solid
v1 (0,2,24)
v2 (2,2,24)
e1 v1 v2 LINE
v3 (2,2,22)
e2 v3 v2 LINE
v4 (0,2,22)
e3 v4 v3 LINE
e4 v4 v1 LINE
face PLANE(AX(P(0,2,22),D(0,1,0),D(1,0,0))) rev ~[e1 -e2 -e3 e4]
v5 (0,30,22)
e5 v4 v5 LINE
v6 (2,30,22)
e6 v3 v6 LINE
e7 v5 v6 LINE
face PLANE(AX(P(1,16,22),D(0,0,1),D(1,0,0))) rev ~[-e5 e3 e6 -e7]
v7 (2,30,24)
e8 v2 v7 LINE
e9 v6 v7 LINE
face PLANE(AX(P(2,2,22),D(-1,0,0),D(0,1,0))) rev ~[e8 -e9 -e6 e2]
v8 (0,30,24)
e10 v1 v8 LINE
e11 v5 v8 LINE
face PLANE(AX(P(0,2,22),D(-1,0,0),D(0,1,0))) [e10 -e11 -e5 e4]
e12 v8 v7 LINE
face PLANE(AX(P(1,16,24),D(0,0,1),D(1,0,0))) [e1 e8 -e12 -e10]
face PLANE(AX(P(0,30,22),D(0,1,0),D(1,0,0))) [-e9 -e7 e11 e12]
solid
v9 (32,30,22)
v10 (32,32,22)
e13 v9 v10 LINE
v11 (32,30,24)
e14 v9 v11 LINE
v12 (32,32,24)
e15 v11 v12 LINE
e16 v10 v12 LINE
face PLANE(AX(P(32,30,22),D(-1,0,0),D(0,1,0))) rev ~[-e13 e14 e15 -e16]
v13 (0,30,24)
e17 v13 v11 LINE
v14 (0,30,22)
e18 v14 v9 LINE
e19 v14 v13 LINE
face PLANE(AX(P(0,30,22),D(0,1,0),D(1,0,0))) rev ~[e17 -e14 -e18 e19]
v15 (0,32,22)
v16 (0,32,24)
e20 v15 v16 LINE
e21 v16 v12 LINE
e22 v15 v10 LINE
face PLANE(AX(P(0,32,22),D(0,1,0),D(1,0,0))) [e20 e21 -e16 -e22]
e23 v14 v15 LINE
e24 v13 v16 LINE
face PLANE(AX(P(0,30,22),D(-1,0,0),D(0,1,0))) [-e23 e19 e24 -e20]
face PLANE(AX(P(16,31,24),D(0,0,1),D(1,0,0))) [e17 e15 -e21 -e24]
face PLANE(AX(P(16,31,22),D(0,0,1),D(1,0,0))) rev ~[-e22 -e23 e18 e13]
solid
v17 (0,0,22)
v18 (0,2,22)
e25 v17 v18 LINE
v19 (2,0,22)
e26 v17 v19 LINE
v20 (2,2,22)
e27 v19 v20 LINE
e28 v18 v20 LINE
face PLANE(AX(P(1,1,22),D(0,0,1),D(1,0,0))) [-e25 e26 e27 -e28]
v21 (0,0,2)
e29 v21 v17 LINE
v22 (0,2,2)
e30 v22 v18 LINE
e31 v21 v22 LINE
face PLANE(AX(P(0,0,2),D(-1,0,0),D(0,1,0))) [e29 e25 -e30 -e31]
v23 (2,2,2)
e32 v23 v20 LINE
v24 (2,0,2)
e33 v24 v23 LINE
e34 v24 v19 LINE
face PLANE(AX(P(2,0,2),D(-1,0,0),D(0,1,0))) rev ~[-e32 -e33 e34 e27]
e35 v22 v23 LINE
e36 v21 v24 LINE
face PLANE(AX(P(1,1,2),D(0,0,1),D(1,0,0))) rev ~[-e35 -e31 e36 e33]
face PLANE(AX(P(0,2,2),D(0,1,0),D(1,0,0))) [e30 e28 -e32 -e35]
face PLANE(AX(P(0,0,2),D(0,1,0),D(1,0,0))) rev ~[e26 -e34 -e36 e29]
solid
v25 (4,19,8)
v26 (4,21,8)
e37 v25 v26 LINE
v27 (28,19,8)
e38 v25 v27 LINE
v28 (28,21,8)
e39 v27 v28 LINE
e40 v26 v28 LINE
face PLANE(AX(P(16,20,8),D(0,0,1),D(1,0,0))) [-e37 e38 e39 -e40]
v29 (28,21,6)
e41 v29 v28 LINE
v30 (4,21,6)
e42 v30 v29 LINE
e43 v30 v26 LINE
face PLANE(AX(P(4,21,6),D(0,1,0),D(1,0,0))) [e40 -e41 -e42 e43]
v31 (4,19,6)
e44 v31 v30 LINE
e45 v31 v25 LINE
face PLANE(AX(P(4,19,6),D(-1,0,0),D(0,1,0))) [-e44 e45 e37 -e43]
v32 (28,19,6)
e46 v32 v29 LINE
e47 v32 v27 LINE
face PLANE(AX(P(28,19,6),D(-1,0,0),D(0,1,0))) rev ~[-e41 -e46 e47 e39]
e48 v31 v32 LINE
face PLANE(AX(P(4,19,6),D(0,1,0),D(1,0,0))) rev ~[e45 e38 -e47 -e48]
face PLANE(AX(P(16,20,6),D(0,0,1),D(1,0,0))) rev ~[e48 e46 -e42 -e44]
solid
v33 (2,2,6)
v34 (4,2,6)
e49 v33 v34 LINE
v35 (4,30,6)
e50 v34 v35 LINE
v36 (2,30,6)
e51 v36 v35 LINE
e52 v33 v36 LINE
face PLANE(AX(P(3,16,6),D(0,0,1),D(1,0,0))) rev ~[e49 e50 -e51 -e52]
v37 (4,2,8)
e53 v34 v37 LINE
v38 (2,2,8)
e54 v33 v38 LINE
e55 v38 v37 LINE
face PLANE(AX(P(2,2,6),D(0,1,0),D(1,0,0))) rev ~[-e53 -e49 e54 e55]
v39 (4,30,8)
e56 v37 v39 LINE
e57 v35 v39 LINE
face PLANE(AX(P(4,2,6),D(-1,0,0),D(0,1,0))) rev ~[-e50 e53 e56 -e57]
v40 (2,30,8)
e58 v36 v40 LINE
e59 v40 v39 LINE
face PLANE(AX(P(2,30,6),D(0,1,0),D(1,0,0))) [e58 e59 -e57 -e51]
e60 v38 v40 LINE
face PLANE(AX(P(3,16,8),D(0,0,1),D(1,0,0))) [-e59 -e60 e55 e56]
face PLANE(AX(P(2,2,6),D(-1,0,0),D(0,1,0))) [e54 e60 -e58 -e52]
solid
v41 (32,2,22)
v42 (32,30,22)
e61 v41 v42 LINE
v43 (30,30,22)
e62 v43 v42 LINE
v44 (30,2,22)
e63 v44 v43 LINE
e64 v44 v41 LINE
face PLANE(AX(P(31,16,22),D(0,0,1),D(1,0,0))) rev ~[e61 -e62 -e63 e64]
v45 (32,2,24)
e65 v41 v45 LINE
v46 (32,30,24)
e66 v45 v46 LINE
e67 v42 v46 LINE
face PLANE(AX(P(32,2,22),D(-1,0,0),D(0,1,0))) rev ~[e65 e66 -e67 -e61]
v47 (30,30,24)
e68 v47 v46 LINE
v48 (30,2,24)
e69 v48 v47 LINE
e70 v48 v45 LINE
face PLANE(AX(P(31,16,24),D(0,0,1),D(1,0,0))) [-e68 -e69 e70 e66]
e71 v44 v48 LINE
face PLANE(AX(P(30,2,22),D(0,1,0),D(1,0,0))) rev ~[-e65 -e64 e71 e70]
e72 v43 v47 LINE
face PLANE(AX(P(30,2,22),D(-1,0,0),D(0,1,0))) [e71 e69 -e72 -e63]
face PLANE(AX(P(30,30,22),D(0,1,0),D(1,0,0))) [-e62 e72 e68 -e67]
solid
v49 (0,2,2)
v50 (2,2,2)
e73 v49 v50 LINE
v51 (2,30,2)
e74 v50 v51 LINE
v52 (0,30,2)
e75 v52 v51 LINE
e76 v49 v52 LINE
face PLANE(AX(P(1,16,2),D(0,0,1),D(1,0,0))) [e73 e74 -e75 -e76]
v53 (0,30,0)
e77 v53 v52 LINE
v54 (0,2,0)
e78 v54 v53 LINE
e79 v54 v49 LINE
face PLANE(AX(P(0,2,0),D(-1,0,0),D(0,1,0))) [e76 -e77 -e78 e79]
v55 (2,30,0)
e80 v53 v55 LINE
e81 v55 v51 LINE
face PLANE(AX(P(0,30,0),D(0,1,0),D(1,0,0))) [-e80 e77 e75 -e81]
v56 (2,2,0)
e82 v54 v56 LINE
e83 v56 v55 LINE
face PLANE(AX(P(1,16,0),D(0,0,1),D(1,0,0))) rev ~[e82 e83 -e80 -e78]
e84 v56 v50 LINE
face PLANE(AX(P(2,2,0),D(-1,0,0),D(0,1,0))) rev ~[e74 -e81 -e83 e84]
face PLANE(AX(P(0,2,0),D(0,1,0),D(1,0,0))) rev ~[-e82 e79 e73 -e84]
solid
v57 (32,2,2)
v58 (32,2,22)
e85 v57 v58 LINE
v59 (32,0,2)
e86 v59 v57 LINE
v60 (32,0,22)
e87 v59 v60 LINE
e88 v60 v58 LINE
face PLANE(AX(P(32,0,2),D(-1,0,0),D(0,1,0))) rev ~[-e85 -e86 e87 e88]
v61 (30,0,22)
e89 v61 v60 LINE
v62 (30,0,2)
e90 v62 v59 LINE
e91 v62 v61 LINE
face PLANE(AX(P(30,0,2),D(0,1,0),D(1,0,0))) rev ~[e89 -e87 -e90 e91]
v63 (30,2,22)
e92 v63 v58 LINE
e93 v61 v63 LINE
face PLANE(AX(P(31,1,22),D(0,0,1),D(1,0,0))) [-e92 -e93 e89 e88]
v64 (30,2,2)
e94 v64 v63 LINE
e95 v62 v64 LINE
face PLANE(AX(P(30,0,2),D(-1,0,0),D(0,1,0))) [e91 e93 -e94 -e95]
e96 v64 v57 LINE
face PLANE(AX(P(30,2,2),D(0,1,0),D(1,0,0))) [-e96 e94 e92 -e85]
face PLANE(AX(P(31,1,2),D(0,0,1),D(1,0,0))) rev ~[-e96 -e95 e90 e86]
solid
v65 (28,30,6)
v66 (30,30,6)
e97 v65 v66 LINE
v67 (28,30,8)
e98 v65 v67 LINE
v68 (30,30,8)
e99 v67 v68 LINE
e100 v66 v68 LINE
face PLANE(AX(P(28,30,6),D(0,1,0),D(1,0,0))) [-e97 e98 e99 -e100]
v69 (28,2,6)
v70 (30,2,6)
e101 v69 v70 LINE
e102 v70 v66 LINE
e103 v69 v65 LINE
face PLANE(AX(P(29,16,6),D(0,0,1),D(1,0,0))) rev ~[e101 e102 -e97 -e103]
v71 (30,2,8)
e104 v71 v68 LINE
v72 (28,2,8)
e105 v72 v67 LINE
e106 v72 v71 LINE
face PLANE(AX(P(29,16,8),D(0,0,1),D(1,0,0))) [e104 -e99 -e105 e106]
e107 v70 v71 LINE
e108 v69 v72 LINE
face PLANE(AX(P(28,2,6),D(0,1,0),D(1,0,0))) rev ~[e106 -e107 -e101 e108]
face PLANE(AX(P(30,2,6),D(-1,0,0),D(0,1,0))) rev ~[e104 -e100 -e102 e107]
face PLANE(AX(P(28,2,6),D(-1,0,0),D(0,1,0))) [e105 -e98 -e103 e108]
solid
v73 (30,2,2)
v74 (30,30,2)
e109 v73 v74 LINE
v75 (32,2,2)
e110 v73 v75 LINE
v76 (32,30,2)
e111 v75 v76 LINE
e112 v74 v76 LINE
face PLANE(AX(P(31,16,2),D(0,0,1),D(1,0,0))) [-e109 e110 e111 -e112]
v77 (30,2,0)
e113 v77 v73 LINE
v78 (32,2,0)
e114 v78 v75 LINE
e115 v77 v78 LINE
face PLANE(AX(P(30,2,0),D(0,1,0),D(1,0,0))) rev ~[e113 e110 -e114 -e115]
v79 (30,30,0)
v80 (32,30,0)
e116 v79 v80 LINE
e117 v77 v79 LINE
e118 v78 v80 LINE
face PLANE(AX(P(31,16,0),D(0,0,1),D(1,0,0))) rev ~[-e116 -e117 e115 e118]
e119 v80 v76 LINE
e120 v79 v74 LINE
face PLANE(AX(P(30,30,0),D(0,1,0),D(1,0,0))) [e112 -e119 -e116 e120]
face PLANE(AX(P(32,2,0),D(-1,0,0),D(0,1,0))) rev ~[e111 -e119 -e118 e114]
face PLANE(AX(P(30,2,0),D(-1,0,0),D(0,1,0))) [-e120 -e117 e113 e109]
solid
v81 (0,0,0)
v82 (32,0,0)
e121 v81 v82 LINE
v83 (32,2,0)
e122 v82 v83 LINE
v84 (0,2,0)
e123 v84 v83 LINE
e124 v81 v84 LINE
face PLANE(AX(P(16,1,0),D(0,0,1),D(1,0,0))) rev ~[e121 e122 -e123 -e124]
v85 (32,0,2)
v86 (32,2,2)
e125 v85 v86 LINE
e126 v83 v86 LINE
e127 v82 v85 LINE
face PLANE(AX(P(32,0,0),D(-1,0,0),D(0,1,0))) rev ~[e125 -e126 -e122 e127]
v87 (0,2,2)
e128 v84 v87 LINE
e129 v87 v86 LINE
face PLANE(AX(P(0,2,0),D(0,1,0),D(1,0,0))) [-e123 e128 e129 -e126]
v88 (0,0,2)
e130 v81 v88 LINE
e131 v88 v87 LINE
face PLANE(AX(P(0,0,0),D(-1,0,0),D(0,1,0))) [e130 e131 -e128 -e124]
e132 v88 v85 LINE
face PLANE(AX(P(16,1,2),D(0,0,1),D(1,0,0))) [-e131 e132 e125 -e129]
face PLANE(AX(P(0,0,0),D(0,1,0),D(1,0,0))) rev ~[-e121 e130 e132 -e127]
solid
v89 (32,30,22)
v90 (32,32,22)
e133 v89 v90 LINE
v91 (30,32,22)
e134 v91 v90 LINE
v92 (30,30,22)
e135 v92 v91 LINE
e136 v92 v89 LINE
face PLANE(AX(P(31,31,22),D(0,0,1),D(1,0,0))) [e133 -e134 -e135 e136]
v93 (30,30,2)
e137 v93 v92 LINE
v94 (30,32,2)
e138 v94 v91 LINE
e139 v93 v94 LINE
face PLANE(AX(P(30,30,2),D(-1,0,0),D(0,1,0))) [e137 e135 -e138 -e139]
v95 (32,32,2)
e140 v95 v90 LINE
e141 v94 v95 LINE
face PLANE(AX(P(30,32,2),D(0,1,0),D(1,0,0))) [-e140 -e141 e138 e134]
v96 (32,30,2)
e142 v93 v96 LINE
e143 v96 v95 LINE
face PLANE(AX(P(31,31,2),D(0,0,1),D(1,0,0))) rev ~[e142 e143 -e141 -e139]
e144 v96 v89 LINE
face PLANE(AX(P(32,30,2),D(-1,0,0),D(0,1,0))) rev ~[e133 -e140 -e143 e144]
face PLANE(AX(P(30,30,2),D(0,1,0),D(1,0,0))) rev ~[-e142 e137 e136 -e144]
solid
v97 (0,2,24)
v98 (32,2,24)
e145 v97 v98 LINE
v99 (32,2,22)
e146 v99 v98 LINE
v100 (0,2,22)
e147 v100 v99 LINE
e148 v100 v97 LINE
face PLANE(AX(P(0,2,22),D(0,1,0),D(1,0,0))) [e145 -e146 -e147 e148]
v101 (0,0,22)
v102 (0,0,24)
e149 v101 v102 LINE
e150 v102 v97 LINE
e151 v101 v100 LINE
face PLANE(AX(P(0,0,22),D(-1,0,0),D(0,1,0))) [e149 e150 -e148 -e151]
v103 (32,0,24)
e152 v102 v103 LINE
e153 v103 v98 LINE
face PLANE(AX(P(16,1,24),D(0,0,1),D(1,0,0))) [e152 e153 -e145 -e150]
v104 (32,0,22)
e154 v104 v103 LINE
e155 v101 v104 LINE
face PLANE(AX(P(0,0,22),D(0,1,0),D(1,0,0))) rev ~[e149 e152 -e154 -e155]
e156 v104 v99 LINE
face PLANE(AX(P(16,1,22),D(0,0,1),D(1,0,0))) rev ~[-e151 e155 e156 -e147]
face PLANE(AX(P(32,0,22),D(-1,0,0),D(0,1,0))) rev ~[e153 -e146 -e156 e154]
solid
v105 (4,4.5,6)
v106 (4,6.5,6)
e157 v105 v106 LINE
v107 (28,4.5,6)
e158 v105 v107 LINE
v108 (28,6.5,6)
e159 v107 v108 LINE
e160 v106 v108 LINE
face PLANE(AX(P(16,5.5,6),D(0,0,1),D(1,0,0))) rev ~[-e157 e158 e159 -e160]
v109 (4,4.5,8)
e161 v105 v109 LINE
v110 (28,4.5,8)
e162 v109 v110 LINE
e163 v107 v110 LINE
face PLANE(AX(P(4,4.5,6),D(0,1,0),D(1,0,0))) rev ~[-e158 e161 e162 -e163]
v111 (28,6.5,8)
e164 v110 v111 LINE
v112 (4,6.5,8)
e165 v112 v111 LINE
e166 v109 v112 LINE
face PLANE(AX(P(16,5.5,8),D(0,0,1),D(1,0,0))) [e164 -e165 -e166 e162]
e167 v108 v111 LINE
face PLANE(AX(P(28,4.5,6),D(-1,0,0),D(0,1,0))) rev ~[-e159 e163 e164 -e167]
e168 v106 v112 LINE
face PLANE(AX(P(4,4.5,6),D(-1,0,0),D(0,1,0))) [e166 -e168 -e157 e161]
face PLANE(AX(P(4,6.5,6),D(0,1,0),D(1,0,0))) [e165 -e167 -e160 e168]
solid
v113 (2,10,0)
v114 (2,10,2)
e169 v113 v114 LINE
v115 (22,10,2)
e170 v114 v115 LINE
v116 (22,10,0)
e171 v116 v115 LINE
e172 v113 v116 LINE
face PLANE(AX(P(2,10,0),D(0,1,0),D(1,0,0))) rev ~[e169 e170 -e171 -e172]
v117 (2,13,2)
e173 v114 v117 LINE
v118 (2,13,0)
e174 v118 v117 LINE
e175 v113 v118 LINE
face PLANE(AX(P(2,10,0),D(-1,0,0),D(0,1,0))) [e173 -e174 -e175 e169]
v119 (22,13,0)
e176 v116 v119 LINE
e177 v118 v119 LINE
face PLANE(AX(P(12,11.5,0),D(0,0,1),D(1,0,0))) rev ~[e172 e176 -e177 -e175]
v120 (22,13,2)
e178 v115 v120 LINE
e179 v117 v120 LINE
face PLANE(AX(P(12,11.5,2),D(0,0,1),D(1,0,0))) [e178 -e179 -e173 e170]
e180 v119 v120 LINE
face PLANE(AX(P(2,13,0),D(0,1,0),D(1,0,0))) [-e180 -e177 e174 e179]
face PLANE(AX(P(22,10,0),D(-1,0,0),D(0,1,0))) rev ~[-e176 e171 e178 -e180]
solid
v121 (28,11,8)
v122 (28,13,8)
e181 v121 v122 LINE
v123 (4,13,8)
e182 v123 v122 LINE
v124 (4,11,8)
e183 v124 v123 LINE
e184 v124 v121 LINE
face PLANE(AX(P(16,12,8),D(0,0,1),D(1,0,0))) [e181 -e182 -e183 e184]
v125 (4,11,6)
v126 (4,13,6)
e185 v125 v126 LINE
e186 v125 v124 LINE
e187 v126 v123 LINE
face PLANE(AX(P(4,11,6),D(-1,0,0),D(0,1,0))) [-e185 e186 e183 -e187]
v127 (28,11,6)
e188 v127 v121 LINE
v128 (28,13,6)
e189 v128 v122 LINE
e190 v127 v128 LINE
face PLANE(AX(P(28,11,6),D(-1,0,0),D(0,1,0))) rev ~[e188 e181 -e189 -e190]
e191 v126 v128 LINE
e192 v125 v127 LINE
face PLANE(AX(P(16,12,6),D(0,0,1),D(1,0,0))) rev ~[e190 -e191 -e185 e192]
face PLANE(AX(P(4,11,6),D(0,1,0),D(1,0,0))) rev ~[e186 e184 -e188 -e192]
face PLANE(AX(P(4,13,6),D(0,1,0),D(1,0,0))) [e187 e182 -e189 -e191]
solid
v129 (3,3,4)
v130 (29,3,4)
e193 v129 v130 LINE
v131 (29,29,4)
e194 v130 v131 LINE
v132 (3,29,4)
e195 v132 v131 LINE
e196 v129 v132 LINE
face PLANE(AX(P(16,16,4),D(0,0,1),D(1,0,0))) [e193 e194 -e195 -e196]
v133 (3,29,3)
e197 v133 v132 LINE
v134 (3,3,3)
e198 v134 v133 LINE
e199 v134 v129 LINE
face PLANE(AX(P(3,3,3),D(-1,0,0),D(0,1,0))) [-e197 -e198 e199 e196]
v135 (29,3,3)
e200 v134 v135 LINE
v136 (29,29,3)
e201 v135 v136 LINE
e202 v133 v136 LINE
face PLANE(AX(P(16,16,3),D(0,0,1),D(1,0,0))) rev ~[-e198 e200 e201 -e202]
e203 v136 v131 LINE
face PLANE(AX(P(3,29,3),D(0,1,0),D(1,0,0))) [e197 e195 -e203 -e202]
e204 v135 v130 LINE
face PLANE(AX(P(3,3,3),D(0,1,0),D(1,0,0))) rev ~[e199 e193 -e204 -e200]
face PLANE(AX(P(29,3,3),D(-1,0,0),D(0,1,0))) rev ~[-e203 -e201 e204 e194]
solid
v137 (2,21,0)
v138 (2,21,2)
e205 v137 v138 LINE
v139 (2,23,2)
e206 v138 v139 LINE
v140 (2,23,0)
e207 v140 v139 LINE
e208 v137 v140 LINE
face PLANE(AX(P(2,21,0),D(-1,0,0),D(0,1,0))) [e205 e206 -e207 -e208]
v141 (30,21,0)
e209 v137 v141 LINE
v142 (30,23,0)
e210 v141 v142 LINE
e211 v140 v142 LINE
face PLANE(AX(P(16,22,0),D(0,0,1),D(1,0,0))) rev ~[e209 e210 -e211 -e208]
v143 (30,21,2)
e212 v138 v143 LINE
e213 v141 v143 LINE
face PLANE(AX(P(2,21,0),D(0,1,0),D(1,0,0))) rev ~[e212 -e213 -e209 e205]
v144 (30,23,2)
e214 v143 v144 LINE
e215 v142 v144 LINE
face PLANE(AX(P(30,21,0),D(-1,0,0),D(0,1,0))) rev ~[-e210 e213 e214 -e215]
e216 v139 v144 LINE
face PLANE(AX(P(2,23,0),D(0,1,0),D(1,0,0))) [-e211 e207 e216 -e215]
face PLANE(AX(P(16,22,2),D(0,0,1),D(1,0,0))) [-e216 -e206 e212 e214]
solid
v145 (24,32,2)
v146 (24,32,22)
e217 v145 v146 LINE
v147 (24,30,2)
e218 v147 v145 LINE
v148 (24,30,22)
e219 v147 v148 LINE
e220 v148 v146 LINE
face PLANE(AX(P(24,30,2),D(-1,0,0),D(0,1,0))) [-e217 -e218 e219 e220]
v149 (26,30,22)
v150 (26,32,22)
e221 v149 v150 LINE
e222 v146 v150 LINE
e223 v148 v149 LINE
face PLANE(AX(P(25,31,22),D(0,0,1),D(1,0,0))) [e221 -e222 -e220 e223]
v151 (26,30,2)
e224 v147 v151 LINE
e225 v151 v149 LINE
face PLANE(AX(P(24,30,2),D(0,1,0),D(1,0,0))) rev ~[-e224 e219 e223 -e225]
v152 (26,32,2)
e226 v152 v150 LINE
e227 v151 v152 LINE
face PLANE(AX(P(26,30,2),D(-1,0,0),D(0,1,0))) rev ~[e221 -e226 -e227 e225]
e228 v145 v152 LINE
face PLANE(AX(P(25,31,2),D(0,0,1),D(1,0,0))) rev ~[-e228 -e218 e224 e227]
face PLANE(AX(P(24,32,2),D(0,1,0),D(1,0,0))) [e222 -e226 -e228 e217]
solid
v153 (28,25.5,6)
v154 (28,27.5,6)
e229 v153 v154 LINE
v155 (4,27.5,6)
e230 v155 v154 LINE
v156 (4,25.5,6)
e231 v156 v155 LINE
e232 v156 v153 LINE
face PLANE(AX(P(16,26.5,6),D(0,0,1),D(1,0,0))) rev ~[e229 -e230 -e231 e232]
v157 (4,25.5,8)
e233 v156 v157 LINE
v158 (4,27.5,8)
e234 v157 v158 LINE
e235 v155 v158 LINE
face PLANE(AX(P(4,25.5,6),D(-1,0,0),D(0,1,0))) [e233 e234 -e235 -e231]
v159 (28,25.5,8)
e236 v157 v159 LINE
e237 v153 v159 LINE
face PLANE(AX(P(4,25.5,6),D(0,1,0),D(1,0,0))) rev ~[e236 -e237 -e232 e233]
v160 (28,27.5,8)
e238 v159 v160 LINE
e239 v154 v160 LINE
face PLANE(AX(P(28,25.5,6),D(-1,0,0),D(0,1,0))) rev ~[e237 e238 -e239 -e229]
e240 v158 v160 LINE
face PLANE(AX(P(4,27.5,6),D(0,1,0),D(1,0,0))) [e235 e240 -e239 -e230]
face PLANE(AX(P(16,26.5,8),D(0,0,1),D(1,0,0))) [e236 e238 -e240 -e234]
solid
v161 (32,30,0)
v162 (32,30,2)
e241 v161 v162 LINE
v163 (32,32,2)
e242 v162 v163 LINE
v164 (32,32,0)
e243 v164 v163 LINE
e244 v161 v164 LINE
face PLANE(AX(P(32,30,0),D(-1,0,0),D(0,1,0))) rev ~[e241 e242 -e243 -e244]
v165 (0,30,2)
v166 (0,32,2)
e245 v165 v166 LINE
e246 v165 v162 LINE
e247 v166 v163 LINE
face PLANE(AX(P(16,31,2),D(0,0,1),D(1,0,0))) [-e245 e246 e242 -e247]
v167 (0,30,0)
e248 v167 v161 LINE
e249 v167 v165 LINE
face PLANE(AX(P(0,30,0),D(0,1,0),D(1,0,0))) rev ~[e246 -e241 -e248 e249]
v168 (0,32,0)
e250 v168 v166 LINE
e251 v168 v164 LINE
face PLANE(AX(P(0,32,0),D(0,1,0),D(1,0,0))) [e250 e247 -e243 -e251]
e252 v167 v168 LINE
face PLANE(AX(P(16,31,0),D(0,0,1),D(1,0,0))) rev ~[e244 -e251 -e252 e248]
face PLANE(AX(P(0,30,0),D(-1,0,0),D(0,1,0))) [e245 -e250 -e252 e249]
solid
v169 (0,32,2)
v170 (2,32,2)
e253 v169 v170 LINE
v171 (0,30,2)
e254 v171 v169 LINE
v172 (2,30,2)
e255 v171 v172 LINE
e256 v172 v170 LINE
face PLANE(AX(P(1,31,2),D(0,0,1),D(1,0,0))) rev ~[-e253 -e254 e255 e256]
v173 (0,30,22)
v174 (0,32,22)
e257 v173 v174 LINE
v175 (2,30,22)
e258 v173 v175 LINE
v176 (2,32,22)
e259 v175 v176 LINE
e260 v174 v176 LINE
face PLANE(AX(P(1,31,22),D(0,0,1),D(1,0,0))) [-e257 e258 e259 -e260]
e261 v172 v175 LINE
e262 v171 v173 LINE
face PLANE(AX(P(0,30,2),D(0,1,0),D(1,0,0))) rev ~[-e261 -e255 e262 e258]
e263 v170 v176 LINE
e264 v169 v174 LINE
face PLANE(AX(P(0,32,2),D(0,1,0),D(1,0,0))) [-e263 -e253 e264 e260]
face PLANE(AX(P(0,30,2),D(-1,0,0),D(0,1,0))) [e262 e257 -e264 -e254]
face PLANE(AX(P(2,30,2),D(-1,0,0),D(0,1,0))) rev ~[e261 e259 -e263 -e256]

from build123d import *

# Parameters (mm, degrees)
BOX_W        = 32
BOX_H        = 2
BOX_DEPTH    = 2
BOX001_W     = 32
BOX001_H     = 2
BOX001_DEPTH = 2
BOX002_W     = 2
BOX002_H     = 2
BOX002_DEPTH = 20
BOX003_W     = 2
BOX003_H     = 2
BOX003_DEPTH = 20
BOX004_W     = 2
BOX004_H     = 28
BOX004_DEPTH = 2
BOX005_W     = 2
BOX005_H     = 28
BOX005_DEPTH = 2
BOX006_W     = 2
BOX006_H     = 28
BOX006_DEPTH = 2
BOX007_W     = 2
BOX007_H     = 28
BOX007_DEPTH = 2
BOX008_W     = 32
BOX008_H     = 2
BOX008_DEPTH = 2
BOX009_W     = 32
BOX009_H     = 2
BOX009_DEPTH = 2
BOX010_W     = 2
BOX010_H     = 2
BOX010_DEPTH = 20
BOX011_W     = 2
BOX011_H     = 2
BOX011_DEPTH = 20
BOX012_W     = 20
BOX012_H     = 3
BOX012_DEPTH = 2
BOX013_W     = 28
BOX013_H     = 2
BOX013_DEPTH = 2
BOX014_W     = 26
BOX014_H     = 26
BOX014_DEPTH = 1
BOX015_W     = 2
BOX015_H     = 2
BOX015_DEPTH = 20
BOX016_W     = 2
BOX016_H     = 28
BOX016_DEPTH = 2
BOX017_W     = 2
BOX017_H     = 28
BOX017_DEPTH = 2
BOX018_W     = 24
BOX018_H     = 2
BOX018_DEPTH = 2
BOX019_W     = 24
BOX019_H     = 2
BOX019_DEPTH = 2
BOX020_W     = 24
BOX020_H     = 2
BOX020_DEPTH = 2
BOX021_W     = 24
BOX021_H     = 2
BOX021_DEPTH = 2


with BuildPart() as box:
    # Box → Box (new body)
    with BuildSketch(Plane.XY):
        with Locations((16, 1)):
            Rectangle(BOX_W, BOX_H)
    extrude(amount=BOX_DEPTH)


with BuildPart() as box001:
    # Box001 → Box001 (new body)
    with BuildSketch(Plane.XY.offset(22)):
        with Locations((16, 1)):
            Rectangle(BOX001_W, BOX001_H)
    extrude(amount=BOX001_DEPTH)


with BuildPart() as box002:
    # Box002 → Box002 (new body)
    with BuildSketch(Plane.XY.offset(2)):
        with Locations((1, 1)):
            Rectangle(BOX002_W, BOX002_H)
    extrude(amount=BOX002_DEPTH)


with BuildPart() as box003:
    # Box003 → Box003 (new body)
    with BuildSketch(Plane(origin=(30, 0, 2), x_dir=(1, 0, 0), z_dir=(0, 0, 1))):
        with Locations((1, 1)):
            Rectangle(BOX003_W, BOX003_H)
    extrude(amount=BOX003_DEPTH)


with BuildPart() as box004:
    # Box004 → Box004 (new body)
    with BuildSketch(Plane(origin=(0, 2, 0), x_dir=(1, 0, 0), z_dir=(0, 0, 1))):
        with Locations((1, 14)):
            Rectangle(BOX004_W, BOX004_H)
    extrude(amount=BOX004_DEPTH)


with BuildPart() as box005:
    # Box005 → Box005 (new body)
    with BuildSketch(Plane(origin=(30, 2, 0), x_dir=(1, 0, 0), z_dir=(0, 0, 1))):
        with Locations((1, 14)):
            Rectangle(BOX005_W, BOX005_H)
    extrude(amount=BOX005_DEPTH)


with BuildPart() as box006:
    # Box006 → Box006 (new body)
    with BuildSketch(Plane(origin=(30, 2, 22), x_dir=(1, 0, 0), z_dir=(0, 0, 1))):
        with Locations((1, 14)):
            Rectangle(BOX006_W, BOX006_H)
    extrude(amount=BOX006_DEPTH)


with BuildPart() as box007:
    # Box007 → Box007 (new body)
    with BuildSketch(Plane(origin=(0, 2, 22), x_dir=(1, 0, 0), z_dir=(0, 0, 1))):
        with Locations((1, 14)):
            Rectangle(BOX007_W, BOX007_H)
    extrude(amount=BOX007_DEPTH)


with BuildPart() as box008:
    # Box008 → Box008 (new body)
    with BuildSketch(Plane(origin=(0, 30, 0), x_dir=(1, 0, 0), z_dir=(0, 0, 1))):
        with Locations((16, 1)):
            Rectangle(BOX008_W, BOX008_H)
    extrude(amount=BOX008_DEPTH)


with BuildPart() as box009:
    # Box009 → Box009 (new body)
    with BuildSketch(Plane(origin=(0, 30, 22), x_dir=(1, 0, 0), z_dir=(0, 0, 1))):
        with Locations((16, 1)):
            Rectangle(BOX009_W, BOX009_H)
    extrude(amount=BOX009_DEPTH)


with BuildPart() as box010:
    # Box010 → Box010 (new body)
    with BuildSketch(Plane(origin=(0, 30, 2), x_dir=(1, 0, 0), z_dir=(0, 0, 1))):
        with Locations((1, 1)):
            Rectangle(BOX010_W, BOX010_H)
    extrude(amount=BOX010_DEPTH)


with BuildPart() as box011:
    # Box011 → Box011 (new body)
    with BuildSketch(Plane(origin=(30, 30, 2), x_dir=(1, 0, 0), z_dir=(0, 0, 1))):
        with Locations((1, 1)):
            Rectangle(BOX011_W, BOX011_H)
    extrude(amount=BOX011_DEPTH)


with BuildPart() as box012:
    # Box012 → Box012 (new body)
    with BuildSketch(Plane(origin=(2, 10, 0), x_dir=(1, 0, 0), z_dir=(0, 0, 1))):
        with Locations((10, 1.5)):
            Rectangle(BOX012_W, BOX012_H)
    extrude(amount=BOX012_DEPTH)


with BuildPart() as box013:
    # Box013 → Box013 (new body)
    with BuildSketch(Plane(origin=(2, 21, 0), x_dir=(1, 0, 0), z_dir=(0, 0, 1))):
        with Locations((14, 1)):
            Rectangle(BOX013_W, BOX013_H)
    extrude(amount=BOX013_DEPTH)


with BuildPart() as heated_bed:
    # Box014 → Box014 (new body)
    with BuildSketch(Plane(origin=(3, 3, 3), x_dir=(1, 0, 0), z_dir=(0, 0, 1))):
        with Locations((13, 13)):
            Rectangle(BOX014_W, BOX014_H)
    extrude(amount=BOX014_DEPTH)


with BuildPart() as box015:
    # Box015 → Box015 (new body)
    with BuildSketch(Plane(origin=(24, 30, 2), x_dir=(1, 0, 0), z_dir=(0, 0, 1))):
        with Locations((1, 1)):
            Rectangle(BOX015_W, BOX015_H)
    extrude(amount=BOX015_DEPTH)


with BuildPart() as box016:
    # Box016 → Box016 (new body)
    with BuildSketch(Plane(origin=(2, 2, 6), x_dir=(1, 0, 0), z_dir=(0, 0, 1))):
        with Locations((1, 14)):
            Rectangle(BOX016_W, BOX016_H)
    extrude(amount=BOX016_DEPTH)


with BuildPart() as box017:
    # Box017 → Box017 (new body)
    with BuildSketch(Plane(origin=(28, 2, 6), x_dir=(1, 0, 0), z_dir=(0, 0, 1))):
        with Locations((1, 14)):
            Rectangle(BOX017_W, BOX017_H)
    extrude(amount=BOX017_DEPTH)


with BuildPart() as box018:
    # Box018 → Box018 (new body)
    with BuildSketch(Plane(origin=(4, 4.5, 6), x_dir=(1, 0, 0), z_dir=(0, 0, 1))):
        with Locations((12, 1)):
            Rectangle(BOX018_W, BOX018_H)
    extrude(amount=BOX018_DEPTH)


with BuildPart() as box019:
    # Box019 → Box019 (new body)
    with BuildSketch(Plane(origin=(4, 25.5, 6), x_dir=(1, 0, 0), z_dir=(0, 0, 1))):
        with Locations((12, 1)):
            Rectangle(BOX019_W, BOX019_H)
    extrude(amount=BOX019_DEPTH)


with BuildPart() as box020:
    # Box020 → Box020 (new body)
    with BuildSketch(Plane(origin=(4, 19, 6), x_dir=(1, 0, 0), z_dir=(0, 0, 1))):
        with Locations((12, 1)):
            Rectangle(BOX020_W, BOX020_H)
    extrude(amount=BOX020_DEPTH)


with BuildPart() as box021:
    # Box021 → Box021 (new body)
    with BuildSketch(Plane(origin=(4, 11, 6), x_dir=(1, 0, 0), z_dir=(0, 0, 1))):
        with Locations((12, 1)):
            Rectangle(BOX021_W, BOX021_H)
    extrude(amount=BOX021_DEPTH)


solid = Compound([box.part, box001.part, box002.part, box003.part, box004.part, box005.part, box006.part, box007.part, box008.part, box009.part, box010.part, box011.part, box012.part, box013.part, heated_bed.part, box015.part, box016.part, box017.part, box018.part, box019.part, box020.part, box021.part])
